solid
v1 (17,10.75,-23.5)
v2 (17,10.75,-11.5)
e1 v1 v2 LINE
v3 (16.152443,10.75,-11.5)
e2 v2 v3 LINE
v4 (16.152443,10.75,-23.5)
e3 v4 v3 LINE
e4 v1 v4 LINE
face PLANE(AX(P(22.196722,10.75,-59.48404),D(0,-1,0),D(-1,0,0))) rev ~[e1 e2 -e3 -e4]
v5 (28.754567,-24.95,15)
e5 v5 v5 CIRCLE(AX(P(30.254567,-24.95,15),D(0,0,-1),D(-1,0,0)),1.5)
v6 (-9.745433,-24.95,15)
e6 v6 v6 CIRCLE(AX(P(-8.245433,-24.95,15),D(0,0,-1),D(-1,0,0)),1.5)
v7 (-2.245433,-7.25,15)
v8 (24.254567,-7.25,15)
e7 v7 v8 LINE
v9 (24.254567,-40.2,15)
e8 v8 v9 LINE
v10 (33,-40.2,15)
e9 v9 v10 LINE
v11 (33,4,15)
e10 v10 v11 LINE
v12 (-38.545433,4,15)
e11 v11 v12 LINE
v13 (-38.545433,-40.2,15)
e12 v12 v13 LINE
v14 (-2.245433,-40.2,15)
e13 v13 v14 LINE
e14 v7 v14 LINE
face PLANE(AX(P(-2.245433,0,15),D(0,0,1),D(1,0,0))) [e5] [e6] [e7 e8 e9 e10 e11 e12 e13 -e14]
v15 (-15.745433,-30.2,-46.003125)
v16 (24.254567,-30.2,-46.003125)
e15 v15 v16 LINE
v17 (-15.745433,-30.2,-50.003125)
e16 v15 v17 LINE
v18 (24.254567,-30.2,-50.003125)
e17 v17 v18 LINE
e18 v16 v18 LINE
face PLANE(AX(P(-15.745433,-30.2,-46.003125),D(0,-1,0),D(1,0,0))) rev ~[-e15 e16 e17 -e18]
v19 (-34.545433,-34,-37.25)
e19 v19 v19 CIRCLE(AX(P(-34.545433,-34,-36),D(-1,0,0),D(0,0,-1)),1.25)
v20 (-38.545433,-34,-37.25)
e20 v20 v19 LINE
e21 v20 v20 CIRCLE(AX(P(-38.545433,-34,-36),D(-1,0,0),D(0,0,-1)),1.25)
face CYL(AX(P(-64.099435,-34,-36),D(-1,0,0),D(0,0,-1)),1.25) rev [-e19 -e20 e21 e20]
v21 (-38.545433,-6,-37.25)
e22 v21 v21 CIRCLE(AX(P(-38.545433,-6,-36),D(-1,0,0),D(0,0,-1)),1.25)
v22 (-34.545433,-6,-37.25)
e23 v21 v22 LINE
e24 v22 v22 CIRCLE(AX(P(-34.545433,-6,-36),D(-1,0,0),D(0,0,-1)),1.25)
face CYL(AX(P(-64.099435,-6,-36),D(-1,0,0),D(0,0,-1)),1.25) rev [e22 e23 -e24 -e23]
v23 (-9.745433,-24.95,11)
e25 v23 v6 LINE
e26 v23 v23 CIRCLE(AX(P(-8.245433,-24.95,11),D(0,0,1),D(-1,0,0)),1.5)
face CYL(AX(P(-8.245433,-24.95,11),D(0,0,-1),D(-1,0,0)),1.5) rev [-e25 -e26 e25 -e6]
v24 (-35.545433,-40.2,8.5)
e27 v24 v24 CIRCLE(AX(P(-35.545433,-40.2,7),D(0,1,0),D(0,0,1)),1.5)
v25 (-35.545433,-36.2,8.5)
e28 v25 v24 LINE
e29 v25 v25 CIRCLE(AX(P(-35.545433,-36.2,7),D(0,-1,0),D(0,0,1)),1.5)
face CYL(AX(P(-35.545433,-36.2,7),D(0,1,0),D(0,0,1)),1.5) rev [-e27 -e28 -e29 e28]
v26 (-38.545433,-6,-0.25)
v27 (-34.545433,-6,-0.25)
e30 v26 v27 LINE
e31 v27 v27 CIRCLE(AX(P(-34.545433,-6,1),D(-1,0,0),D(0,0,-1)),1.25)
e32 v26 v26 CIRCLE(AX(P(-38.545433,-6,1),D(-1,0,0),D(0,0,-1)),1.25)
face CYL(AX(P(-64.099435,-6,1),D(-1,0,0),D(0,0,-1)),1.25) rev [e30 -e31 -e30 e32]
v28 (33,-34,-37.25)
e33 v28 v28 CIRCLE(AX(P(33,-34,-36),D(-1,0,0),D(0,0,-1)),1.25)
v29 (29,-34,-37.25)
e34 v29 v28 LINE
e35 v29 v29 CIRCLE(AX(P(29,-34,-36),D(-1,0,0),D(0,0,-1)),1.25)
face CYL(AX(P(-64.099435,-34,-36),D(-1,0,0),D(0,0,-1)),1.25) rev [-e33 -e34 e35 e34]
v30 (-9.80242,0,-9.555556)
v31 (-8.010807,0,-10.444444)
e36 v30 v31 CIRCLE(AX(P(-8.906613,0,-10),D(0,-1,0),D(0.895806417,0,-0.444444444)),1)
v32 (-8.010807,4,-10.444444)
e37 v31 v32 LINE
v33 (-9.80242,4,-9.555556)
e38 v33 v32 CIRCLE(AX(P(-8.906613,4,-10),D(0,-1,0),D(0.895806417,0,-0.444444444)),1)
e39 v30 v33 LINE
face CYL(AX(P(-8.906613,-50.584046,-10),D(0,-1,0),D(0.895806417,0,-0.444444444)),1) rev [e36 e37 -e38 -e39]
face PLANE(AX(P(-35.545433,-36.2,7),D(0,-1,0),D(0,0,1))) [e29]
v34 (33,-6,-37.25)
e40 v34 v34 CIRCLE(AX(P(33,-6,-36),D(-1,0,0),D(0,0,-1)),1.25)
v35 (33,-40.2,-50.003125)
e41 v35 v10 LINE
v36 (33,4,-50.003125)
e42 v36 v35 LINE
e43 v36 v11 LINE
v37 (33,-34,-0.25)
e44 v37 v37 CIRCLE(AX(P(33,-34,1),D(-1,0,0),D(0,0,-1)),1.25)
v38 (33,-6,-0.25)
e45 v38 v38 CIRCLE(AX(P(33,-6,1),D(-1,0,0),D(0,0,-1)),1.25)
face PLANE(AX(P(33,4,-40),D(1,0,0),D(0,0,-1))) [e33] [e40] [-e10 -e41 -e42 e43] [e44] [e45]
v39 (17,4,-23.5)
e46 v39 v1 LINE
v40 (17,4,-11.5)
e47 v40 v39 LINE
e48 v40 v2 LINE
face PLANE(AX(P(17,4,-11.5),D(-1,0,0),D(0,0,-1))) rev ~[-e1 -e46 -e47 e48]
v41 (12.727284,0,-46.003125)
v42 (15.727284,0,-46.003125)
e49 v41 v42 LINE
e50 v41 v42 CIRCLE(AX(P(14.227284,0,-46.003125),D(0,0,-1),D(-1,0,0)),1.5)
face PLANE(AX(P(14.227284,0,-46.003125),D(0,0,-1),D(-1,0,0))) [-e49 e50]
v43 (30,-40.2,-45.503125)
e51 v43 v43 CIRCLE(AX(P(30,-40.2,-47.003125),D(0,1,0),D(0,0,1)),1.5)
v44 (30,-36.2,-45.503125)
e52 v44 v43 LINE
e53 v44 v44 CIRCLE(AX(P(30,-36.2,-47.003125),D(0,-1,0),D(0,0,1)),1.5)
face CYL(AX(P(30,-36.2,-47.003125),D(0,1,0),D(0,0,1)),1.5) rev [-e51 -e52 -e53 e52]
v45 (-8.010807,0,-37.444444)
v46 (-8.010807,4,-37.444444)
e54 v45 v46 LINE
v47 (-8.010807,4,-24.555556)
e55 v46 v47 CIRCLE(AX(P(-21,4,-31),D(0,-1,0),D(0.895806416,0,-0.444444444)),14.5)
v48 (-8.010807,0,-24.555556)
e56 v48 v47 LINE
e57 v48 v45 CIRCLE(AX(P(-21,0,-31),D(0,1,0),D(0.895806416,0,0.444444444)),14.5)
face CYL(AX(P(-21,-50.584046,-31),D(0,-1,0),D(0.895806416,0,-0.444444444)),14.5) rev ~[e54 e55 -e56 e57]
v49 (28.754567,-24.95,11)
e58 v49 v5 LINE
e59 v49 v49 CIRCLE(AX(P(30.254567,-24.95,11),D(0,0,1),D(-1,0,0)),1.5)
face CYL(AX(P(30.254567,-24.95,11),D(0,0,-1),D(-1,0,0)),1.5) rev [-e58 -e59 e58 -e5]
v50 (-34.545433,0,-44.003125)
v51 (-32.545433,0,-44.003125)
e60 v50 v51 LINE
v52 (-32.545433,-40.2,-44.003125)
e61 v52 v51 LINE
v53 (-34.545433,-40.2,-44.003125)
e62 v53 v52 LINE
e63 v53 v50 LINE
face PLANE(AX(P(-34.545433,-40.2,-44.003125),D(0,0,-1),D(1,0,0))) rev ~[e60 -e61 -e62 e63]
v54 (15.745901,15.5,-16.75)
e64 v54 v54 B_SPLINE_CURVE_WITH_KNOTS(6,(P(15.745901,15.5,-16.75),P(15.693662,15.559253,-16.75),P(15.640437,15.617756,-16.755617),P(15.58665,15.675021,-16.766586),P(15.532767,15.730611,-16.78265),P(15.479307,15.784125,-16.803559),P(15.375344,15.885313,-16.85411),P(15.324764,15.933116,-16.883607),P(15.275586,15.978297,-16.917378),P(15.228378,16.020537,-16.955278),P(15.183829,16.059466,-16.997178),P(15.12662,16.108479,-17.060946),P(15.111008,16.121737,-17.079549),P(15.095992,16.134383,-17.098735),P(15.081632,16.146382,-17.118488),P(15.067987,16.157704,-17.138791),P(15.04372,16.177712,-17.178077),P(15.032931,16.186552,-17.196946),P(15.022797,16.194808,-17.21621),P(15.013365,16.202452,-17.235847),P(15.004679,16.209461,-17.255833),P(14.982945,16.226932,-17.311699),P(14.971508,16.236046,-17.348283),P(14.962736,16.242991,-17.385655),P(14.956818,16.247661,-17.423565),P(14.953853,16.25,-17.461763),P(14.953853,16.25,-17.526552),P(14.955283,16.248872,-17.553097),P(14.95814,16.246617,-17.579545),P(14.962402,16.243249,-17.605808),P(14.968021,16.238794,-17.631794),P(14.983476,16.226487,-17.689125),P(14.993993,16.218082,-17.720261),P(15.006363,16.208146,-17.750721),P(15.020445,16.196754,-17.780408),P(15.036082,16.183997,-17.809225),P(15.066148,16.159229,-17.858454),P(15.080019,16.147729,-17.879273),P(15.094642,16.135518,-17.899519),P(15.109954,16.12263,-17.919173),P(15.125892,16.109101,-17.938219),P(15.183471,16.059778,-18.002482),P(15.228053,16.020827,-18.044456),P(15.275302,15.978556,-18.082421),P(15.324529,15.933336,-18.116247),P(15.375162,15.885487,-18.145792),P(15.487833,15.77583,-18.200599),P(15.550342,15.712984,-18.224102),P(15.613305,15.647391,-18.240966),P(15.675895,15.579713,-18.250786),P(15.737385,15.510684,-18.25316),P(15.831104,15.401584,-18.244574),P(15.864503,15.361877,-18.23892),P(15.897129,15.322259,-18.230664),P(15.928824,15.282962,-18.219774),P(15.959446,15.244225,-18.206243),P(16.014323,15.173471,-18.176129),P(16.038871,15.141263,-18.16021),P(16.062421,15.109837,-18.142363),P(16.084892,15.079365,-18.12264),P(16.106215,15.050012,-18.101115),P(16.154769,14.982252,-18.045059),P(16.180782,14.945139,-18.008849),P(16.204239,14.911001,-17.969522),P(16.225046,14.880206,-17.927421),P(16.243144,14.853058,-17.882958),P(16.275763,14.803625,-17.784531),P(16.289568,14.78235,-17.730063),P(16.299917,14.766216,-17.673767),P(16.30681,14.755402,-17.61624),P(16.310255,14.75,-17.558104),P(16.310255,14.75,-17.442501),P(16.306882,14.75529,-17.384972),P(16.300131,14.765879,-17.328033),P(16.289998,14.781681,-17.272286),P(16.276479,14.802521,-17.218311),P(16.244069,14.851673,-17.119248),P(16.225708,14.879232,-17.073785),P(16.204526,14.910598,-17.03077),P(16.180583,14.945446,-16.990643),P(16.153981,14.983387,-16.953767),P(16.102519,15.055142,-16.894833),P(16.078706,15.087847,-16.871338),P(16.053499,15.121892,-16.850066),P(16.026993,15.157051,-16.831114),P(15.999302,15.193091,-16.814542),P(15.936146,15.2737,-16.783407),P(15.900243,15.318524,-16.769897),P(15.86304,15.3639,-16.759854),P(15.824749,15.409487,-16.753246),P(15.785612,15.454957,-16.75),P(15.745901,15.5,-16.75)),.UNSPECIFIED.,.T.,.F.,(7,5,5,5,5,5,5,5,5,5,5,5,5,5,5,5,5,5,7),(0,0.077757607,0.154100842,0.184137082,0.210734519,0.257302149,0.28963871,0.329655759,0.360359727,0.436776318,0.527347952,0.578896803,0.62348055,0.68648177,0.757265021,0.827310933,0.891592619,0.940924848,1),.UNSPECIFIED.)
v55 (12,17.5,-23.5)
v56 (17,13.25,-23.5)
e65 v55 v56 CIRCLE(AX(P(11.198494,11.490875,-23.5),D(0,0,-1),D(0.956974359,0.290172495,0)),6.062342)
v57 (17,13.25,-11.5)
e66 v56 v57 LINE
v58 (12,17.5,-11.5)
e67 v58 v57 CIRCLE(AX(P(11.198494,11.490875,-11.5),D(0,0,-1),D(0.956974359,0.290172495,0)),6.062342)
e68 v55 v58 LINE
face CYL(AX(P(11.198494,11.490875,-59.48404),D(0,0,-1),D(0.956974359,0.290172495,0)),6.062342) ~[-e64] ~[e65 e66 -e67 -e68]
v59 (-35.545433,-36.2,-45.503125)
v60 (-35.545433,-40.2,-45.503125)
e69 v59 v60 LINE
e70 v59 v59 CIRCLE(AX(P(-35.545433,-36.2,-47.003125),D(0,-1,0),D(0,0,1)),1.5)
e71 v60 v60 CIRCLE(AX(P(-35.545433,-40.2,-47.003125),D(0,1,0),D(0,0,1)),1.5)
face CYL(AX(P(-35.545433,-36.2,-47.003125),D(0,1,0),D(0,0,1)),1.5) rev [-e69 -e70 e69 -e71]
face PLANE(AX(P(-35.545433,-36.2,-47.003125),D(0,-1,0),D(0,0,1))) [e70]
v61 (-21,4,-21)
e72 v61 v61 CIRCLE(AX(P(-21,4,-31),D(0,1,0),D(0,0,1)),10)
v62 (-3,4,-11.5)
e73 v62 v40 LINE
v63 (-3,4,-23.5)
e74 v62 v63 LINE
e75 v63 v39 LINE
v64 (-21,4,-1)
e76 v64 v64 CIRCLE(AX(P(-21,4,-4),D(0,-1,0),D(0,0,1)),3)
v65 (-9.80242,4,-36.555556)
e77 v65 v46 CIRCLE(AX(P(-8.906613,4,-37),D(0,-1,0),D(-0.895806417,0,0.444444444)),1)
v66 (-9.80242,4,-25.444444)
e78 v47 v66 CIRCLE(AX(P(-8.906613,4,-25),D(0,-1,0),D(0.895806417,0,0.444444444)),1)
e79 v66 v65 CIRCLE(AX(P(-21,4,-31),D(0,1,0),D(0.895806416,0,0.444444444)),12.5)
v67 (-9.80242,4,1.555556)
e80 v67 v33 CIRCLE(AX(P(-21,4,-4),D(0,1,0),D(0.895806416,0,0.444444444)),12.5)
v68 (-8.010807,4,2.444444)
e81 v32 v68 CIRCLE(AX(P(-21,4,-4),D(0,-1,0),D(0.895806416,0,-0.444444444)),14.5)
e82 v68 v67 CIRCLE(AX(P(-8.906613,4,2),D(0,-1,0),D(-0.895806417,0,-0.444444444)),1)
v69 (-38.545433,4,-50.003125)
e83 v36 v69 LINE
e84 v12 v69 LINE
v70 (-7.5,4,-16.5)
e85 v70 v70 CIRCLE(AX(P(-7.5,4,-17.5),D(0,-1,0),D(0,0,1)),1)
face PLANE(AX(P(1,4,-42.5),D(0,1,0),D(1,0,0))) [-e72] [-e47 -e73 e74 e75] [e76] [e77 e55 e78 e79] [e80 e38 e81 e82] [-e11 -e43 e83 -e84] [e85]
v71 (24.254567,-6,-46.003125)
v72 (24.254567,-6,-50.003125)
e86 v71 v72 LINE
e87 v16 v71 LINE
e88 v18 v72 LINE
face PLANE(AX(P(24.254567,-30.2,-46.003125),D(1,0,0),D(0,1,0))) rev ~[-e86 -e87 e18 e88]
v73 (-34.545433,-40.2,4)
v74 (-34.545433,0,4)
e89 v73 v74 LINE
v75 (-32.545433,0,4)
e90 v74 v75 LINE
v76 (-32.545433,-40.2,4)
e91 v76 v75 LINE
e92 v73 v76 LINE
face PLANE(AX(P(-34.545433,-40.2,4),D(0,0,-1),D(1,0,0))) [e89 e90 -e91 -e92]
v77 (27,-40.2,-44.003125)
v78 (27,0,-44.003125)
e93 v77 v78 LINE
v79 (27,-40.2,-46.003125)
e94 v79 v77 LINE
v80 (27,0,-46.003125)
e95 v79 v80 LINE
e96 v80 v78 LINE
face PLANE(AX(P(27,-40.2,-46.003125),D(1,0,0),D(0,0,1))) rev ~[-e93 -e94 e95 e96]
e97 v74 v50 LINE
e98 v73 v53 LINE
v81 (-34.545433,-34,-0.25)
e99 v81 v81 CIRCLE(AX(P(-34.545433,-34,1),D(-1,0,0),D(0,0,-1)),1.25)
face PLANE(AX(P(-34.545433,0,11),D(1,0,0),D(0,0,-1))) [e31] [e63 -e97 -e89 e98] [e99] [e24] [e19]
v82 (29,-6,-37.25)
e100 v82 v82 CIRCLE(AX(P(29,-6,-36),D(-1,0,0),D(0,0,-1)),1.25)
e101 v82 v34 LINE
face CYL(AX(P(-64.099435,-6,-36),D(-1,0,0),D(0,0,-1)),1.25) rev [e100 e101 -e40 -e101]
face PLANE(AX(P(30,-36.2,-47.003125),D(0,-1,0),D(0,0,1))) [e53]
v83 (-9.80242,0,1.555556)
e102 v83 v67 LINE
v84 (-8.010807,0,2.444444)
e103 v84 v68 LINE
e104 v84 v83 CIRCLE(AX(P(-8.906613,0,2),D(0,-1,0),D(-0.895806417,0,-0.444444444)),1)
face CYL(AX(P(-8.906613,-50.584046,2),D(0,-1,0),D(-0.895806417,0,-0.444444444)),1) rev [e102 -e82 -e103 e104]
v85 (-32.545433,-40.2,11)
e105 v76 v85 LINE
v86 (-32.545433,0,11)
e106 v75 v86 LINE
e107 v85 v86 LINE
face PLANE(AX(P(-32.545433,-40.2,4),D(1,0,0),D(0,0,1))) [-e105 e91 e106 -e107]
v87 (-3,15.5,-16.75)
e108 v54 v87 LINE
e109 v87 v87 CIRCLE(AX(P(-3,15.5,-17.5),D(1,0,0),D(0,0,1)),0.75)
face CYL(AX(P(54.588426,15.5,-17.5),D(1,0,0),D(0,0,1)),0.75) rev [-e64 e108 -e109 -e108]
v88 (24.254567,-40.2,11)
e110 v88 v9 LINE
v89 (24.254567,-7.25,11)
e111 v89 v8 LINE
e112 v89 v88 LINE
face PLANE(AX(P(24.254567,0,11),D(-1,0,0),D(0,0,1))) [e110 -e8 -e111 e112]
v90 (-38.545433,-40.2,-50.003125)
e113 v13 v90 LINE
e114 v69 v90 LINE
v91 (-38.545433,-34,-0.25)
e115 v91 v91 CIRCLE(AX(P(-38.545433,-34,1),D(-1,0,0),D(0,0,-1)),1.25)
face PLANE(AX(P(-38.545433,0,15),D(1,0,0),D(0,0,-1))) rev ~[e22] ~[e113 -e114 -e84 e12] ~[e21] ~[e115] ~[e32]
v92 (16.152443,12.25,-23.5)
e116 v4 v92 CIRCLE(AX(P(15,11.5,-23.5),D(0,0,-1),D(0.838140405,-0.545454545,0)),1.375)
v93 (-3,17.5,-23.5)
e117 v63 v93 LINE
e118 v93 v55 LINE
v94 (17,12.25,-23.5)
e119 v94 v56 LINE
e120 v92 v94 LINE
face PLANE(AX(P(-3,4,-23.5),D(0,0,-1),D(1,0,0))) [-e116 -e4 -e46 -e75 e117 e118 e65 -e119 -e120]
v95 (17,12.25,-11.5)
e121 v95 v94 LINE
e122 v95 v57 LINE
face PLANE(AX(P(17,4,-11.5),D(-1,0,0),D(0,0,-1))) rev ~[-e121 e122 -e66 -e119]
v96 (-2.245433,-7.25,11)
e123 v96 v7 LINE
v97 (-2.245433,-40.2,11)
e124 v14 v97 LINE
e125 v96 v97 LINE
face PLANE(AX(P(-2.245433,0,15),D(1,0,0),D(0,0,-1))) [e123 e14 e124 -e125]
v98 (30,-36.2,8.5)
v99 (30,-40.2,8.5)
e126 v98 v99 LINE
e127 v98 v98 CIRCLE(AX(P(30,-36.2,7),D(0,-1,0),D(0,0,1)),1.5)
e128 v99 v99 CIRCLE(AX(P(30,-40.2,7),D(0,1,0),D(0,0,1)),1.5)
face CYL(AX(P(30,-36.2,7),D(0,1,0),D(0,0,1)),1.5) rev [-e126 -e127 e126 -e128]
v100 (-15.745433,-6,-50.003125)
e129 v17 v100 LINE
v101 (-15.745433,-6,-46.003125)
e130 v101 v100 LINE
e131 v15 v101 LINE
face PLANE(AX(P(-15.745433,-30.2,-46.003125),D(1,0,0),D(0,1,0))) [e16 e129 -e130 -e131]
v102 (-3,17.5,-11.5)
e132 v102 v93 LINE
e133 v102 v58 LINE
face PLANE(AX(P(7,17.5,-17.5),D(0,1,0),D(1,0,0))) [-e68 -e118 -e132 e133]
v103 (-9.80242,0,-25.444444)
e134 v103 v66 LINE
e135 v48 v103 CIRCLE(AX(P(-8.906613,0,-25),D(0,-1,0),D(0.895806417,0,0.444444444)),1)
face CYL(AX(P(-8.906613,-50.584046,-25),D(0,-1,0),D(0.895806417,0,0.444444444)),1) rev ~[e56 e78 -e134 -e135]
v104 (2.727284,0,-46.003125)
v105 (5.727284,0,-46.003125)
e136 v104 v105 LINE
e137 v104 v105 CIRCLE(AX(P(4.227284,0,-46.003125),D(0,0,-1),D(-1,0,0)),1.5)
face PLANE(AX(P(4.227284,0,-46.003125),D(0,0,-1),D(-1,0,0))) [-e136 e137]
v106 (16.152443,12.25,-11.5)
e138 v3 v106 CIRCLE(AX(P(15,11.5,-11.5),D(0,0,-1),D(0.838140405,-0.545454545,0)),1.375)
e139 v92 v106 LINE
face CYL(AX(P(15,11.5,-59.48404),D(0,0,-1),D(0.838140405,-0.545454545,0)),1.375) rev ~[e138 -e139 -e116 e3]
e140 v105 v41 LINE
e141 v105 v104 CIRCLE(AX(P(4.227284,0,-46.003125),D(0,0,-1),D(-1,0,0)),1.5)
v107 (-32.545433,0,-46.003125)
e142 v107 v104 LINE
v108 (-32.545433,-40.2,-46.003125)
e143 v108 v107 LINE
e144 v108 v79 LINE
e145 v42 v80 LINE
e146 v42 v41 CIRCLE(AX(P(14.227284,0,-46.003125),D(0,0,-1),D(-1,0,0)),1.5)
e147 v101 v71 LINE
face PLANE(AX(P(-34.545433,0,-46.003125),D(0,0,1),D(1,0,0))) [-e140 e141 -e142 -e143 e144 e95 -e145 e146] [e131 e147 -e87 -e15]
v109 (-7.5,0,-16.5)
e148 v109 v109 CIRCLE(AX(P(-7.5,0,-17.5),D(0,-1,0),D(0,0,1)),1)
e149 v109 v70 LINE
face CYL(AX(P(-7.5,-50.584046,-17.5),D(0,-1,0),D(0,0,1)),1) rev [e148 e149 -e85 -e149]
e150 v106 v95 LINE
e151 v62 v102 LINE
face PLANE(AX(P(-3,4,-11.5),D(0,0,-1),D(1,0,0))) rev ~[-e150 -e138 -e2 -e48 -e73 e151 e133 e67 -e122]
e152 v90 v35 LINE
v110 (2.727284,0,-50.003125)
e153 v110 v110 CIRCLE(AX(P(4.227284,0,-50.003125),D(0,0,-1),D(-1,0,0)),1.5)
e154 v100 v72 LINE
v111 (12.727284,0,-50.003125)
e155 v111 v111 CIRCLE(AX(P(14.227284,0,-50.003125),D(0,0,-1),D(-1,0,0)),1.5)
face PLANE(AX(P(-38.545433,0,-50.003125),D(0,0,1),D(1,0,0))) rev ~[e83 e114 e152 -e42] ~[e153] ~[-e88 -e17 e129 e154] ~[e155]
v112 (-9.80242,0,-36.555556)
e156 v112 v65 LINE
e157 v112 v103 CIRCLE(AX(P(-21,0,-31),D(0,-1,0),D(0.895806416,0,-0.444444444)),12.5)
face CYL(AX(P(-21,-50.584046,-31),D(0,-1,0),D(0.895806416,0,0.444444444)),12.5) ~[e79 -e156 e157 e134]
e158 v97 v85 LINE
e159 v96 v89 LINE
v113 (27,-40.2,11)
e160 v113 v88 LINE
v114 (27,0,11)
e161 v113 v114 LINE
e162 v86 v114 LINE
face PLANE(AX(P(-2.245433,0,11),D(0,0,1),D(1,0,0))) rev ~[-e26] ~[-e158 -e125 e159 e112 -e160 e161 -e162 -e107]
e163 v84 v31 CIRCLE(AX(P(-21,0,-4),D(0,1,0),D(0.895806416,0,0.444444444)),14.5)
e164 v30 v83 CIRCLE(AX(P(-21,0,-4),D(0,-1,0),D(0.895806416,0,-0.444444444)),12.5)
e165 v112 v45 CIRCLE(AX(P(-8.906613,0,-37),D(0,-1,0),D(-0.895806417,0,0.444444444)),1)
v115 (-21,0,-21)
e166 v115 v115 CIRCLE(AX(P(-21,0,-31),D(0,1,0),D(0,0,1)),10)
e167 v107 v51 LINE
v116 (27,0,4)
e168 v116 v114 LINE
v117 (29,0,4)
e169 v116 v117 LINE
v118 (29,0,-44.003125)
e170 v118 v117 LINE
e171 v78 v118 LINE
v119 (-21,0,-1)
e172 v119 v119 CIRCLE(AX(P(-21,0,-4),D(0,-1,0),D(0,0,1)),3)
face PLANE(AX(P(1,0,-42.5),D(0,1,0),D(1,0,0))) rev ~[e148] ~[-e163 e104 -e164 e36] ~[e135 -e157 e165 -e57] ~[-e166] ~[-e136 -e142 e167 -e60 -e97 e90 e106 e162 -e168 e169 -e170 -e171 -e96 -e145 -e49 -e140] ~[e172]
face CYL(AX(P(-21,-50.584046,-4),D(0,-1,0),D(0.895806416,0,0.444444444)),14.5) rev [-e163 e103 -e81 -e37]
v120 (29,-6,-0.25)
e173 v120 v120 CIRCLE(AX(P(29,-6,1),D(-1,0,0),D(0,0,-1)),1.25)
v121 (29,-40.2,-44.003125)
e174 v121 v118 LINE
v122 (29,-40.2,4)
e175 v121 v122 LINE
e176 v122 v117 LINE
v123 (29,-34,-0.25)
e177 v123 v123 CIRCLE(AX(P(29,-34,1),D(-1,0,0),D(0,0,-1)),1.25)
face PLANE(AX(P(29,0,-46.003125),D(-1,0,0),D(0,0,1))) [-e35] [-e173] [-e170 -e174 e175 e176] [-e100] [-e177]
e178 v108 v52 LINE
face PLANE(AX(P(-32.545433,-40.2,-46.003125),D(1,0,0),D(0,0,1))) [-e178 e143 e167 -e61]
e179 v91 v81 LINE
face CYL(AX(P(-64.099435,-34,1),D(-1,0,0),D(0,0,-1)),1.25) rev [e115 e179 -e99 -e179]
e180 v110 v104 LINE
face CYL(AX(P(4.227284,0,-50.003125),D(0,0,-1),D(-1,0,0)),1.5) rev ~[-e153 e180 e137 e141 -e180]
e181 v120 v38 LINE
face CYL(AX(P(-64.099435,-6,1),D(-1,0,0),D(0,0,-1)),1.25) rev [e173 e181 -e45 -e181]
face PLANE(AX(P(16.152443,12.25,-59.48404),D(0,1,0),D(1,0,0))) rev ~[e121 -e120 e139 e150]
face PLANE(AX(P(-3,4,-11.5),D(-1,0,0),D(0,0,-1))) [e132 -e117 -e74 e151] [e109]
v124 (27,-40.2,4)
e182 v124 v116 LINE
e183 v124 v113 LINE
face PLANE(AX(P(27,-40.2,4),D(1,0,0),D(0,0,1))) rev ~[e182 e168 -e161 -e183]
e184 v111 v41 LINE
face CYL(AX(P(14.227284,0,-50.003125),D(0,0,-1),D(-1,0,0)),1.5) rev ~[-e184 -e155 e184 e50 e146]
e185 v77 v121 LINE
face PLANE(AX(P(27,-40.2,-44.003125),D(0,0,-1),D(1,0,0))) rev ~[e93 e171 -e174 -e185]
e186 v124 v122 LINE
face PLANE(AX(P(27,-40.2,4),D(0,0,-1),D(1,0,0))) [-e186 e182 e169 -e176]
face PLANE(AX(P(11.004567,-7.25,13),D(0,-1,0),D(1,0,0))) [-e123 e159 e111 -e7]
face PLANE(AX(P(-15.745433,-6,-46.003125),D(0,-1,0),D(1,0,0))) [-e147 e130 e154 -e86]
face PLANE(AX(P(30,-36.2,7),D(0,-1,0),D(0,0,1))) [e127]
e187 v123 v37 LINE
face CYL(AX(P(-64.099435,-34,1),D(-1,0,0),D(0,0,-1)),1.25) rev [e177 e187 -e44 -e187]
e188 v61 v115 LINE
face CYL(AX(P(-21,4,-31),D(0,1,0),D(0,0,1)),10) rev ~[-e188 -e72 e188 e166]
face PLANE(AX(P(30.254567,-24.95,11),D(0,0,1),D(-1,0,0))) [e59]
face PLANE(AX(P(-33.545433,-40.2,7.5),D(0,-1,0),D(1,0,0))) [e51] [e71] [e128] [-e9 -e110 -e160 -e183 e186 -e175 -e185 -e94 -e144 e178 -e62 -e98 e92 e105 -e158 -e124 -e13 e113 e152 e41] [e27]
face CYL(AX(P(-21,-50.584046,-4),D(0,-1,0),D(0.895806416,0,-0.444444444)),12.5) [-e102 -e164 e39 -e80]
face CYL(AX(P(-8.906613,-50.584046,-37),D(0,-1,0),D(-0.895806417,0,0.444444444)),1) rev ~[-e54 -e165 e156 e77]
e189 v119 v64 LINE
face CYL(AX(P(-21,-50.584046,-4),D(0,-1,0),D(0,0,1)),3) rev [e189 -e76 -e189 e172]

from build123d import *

# Parameters (mm, degrees)
SKETCH1_W                = 64
SKETCH1_H                = 50
BOSS_EXTRUDE1_DEPTH      = 4
SKETCH3_R                = 6.5
CUT_EXTRUDE2_DEPTH       = 4
SKETCH4_W                = 20
SKETCH4_H                = 12
BOSS_EXTRUDE2_DEPTH      = 13.5
CUT_EXTRUDE3_DEPTH       = 47.984039843
CUT_EXTRUDE3_DEPTH_BACK  = 47.984039843
CUT_EXTRUDE4_DEPTH       = 47.984039843
CUT_EXTRUDE4_DEPTH_BACK  = 47.984039843
CUT_EXTRUDE5_DEPTH       = 57.588426379
CUT_EXTRUDE5_DEPTH_BACK  = 57.588426379
SKETCH7_R                = 0.75
CUT_EXTRUDE6_DEPTH       = 54.584046158
CUT_EXTRUDE6_DEPTH_BACK  = 54.584046158
SKETCH8_R                = 1
CUT_EXTRUDE7_DEPTH       = 54.584046158
CUT_EXTRUDE7_DEPTH_BACK  = 54.584046158
SKETCH10_R               = 3
CUT_EXTRUDE8_DEPTH       = 54.584046158
CUT_EXTRUDE8_DEPTH_BACK  = 54.584046158
SKETCH12_W               = 64
SKETCH12_H               = 5
BOSS_EXTRUDE3_DEPTH      = 4
BOSS_EXTRUDE4_DEPTH      = 4
BOSS_EXTRUDE5_DEPTH      = 40.2
SKETCH17_W               = 26.5
SKETCH17_H               = 4
BOSS_EXTRUDE7_DEPTH      = 7.25
SKETCH19_W               = 2
SKETCH19_H               = 7
SKETCH19_H_2             = 2
BOSS_EXTRUDE8_DEPTH      = 40.2
CUT_EXTRUDE9_DEPTH       = 86.529836515
CUT_EXTRUDE9_DEPTH_BACK  = 4
SKETCH18_R               = 1.5
CUT_EXTRUDE10_DEPTH      = 86.599046003
CUT_EXTRUDE10_DEPTH_BACK = 4
SKETCH20_R               = 1.5
SKETCH21_R               = 1.5
CUT_EXTRUDE11_DEPTH      = 4
CUT_EXTRUDE12_DEPTH      = 97.099435462
CUT_EXTRUDE12_DEPTH_BACK = 97.099435462
SKETCH22_R               = 1.25
SKETCH15_W               = 40
SKETCH15_H               = 24.2
CUT_EXTRUDE13_DEPTH      = 10
SKETCH23_R               = 10
CUT_EXTRUDE14_DEPTH      = 78.069468162


with BuildPart() as part:
    # Sketch1 → Boss-Extrude1 (new body)
    with BuildSketch(Plane(origin=(0, 0, 0), x_dir=(1, 0, 0), z_dir=(0, 1, 0))):
        with Locations((1, 15)):
            Rectangle(SKETCH1_W, SKETCH1_H)
    extrude(amount=BOSS_EXTRUDE1_DEPTH)

    # Sketch3 → Cut-Extrude2 (cut)
    with BuildSketch(Plane(origin=(0, 4, 0), x_dir=(1, 0, 0), z_dir=(0, 1, 0))):
        with Locations(Location((-21, 31, 0), (0, 0, 270))):
            Circle(SKETCH3_R)
    extrude(amount=-CUT_EXTRUDE2_DEPTH, mode=Mode.SUBTRACT)

    # Sketch4 → Boss-Extrude2 (add)
    with BuildSketch(Plane(origin=(0, 4, 0), x_dir=(1, 0, 0), z_dir=(0, 1, 0))):
        with Locations((7, 17.5)):
            Rectangle(SKETCH4_W, SKETCH4_H)
    extrude(amount=BOSS_EXTRUDE2_DEPTH)

    # Sketch5 → Cut-Extrude3 (cut, two sides: drawn at the far end of the back side and taken through both)
    with BuildSketch(Plane.XY.offset(-11.5).offset(-CUT_EXTRUDE3_DEPTH_BACK)):
        with BuildLine():
            Line((17, 10.75), (16.152443057, 10.75))
            ThreePointArc((16.152443057, 10.75), (13.625, 11.5), (16.152443057, 12.25))
            Line((16.152443057, 12.25), (19, 12.25))
            Line((19, 12.25), (22.19672231, 12.25))
            Line((22.19672231, 12.25), (22.19672231, 10.75))
            Line((22.19672231, 10.75), (17, 10.75))
        make_face()
    extrude(amount=CUT_EXTRUDE3_DEPTH + CUT_EXTRUDE3_DEPTH_BACK, mode=Mode.SUBTRACT)

    # Sketch6 → Cut-Extrude4 (cut, two sides: drawn at the far end of the back side and taken through both)
    with BuildSketch(Plane.XY.offset(-11.5).offset(-CUT_EXTRUDE4_DEPTH_BACK)):
        with BuildLine():
            Line((12, 17.5), (17, 17.5))
            Line((17, 17.5), (17, 13.25))
            ThreePointArc((17, 13.25), (15.124760231, 16.110012037), (12, 17.5))
        make_face()
    extrude(amount=CUT_EXTRUDE4_DEPTH + CUT_EXTRUDE4_DEPTH_BACK, mode=Mode.SUBTRACT)

    # Sketch7 → Cut-Extrude5 (cut, two sides: drawn at the far end of the back side and taken through both)
    with BuildSketch(Plane.ZY.offset(3).offset(-CUT_EXTRUDE5_DEPTH_BACK)):
        with Locations((-17.5, 15.5)):
            Circle(SKETCH7_R)
    extrude(amount=CUT_EXTRUDE5_DEPTH + CUT_EXTRUDE5_DEPTH_BACK, mode=Mode.SUBTRACT)

    # Sketch8 → Cut-Extrude6 (cut, two sides: drawn at the far end of the back side and taken through both)
    with BuildSketch(Plane(origin=(0, 4, 0), x_dir=(1, 0, 0), z_dir=(0, 1, 0)).offset(-CUT_EXTRUDE6_DEPTH_BACK)):
        with Locations(Location((-7.5, 31, 0), (0, 0, 270))):
            Circle(SKETCH8_R)
        with Locations(Location((-7.5, 17.5, 0), (0, 0, 270))):
            Circle(SKETCH8_R)
        with Locations(Location((-7.5, 4, 0), (0, 0, 270))):
            Circle(SKETCH8_R)
    extrude(amount=CUT_EXTRUDE6_DEPTH + CUT_EXTRUDE6_DEPTH_BACK, mode=Mode.SUBTRACT)

    # Sketch10 → Cut-Extrude7 (cut, two sides: drawn at the far end of the back side and taken through both)
    with BuildSketch(Plane(origin=(0, 4, 0), x_dir=(1, 0, 0), z_dir=(0, 1, 0)).offset(-CUT_EXTRUDE7_DEPTH_BACK)):
        with Locations(Location((-21, 4, 0), (0, 0, 270))):
            Circle(SKETCH10_R)
    extrude(amount=CUT_EXTRUDE7_DEPTH + CUT_EXTRUDE7_DEPTH_BACK, mode=Mode.SUBTRACT)

    # Sketch11 → Cut-Extrude8 (cut, two sides: drawn at the far end of the back side and taken through both)
    with BuildSketch(Plane(origin=(0, 4, 0), x_dir=(1, 0, 0), z_dir=(0, 1, 0)).offset(-CUT_EXTRUDE8_DEPTH_BACK)):
        with BuildLine():
            ThreePointArc((-9.802419794, 25.444444444), (-8.5, 31), (-9.802419794, 36.555555556))
            ThreePointArc((-9.802419794, 36.555555556), (-9.351057822, 37.895806416), (-8.010806961, 37.444444444))
            ThreePointArc((-8.010806961, 37.444444444), (-6.5, 31), (-8.010806961, 24.555555556))
            ThreePointArc((-8.010806961, 24.555555556), (-9.351057822, 24.104193584), (-9.802419794, 25.444444444))
        make_face()
        with BuildLine():
            ThreePointArc((-9.802419794, 9.555555556), (-8.5, 4), (-9.802419794, -1.555555556))
            ThreePointArc((-9.802419794, -1.555555556), (-9.351057822, -2.895806416), (-8.010806961, -2.444444444))
            ThreePointArc((-8.010806961, -2.444444444), (-6.5, 4), (-8.010806961, 10.444444444))
            ThreePointArc((-8.010806961, 10.444444444), (-9.351057822, 10.895806416), (-9.802419794, 9.555555556))
        make_face()
    extrude(amount=CUT_EXTRUDE8_DEPTH + CUT_EXTRUDE8_DEPTH_BACK, mode=Mode.SUBTRACT)

    # Sketch12 → Boss-Extrude3 (add)
    with BuildSketch(Plane(origin=(0, 4, 0), x_dir=(1, 0, 0), z_dir=(0, 1, 0))):
        with Locations((1, 42.5)):
            Rectangle(SKETCH12_W, SKETCH12_H)
        with Locations((1, -12.5)):
            Rectangle(SKETCH12_W, SKETCH12_H)
    extrude(amount=-BOSS_EXTRUDE3_DEPTH)

    # Sketch13 → Boss-Extrude4 (add)
    with BuildSketch(Plane(origin=(0, 0, 0), x_dir=(1, 0, 0), z_dir=(0, 1, 0))):
        Polygon((33, 38.853125133), (-31, 38.853125133), (-31, -15), (-38.545432929, -15), (-38.545432929, 50.003125133), (-31, 50.003125133), (33, 50.003125133), align=None)
    extrude(amount=BOSS_EXTRUDE4_DEPTH)

    # Sketch14 → Boss-Extrude5 (add)
    with BuildSketch(Plane.XZ):
        Polygon((-38.545432929, 15), (-2.245432929, 15), (-2.245432929, 11), (-34.545432929, 11), (-34.545432929, -46.003125133), (29, -46.003125133), (29, 11), (24.254567071, 11), (24.254567071, 15), (33, 15), (33, 4.2), (33, -50.003125133), (29, -50.003125133), (-34.545432929, -50.003125133), (-38.545432929, -50.003125133), (-38.545432929, 4.2), align=None)
    extrude(amount=BOSS_EXTRUDE5_DEPTH)

    # Sketch17 → Boss-Extrude7 (add)
    with BuildSketch(Plane.XZ):
        with Locations((11.004567071, 13)):
            Rectangle(SKETCH17_W, SKETCH17_H)
    extrude(amount=BOSS_EXTRUDE7_DEPTH)

    # Sketch19 → Boss-Extrude8 (add)
    with BuildSketch(Plane.XZ.offset(40.2)):
        with Locations((-33.545432929, 7.5)):
            Rectangle(SKETCH19_W, SKETCH19_H)
        with Locations((-33.545432929, -45.003125133)):
            Rectangle(SKETCH19_W, SKETCH19_H_2)
        with Locations((28, -45.003125133)):
            Rectangle(SKETCH19_W, SKETCH19_H_2)
        with Locations((28, 7.5)):
            Rectangle(SKETCH19_W, SKETCH19_H)
    extrude(amount=-BOSS_EXTRUDE8_DEPTH)

    # Sketch18 → Cut-Extrude9 (cut, two sides: drawn at the far end of the back side and taken through both)
    with BuildSketch(Plane.XZ.offset(40.2).offset(-CUT_EXTRUDE9_DEPTH_BACK)):
        with Locations(Location((-35.545432929, 7, 0), (0, 0, 90))):
            Circle(SKETCH18_R)
        with Locations(Location((30, 7, 0), (0, 0, 90))):
            Circle(SKETCH18_R)
        with Locations(Location((30, -47.003125133, 0), (0, 0, 90))):
            Circle(SKETCH18_R)
        with Locations(Location((-35.545432929, -47.003125133, 0), (0, 0, 90))):
            Circle(SKETCH18_R)
    extrude(amount=CUT_EXTRUDE9_DEPTH + CUT_EXTRUDE9_DEPTH_BACK, mode=Mode.SUBTRACT)

    # Sketch20 → Cut-Extrude10 (cut, two sides: drawn at the far end of the back side and taken through both)
    with BuildSketch(Plane.XY.offset(15).offset(-CUT_EXTRUDE10_DEPTH_BACK)):
        with Locations(Location((-8.245432929, -24.95, 0), (0, 0, 180))):
            Circle(SKETCH20_R)
        with Locations(Location((30.254567071, -24.95, 0), (0, 0, 180))):
            Circle(SKETCH20_R)
    extrude(amount=CUT_EXTRUDE10_DEPTH + CUT_EXTRUDE10_DEPTH_BACK, mode=Mode.SUBTRACT)

    # Sketch21 → Cut-Extrude11 (cut)
    with BuildSketch(Plane(origin=(0, 0, -50.003125133), x_dir=(-1, 0, 0), z_dir=(0, 0, -1))):
        with Locations((-4.227283535, 0)):
            Circle(SKETCH21_R)
        with Locations((-14.227283535, 0)):
            Circle(SKETCH21_R)
    extrude(amount=-CUT_EXTRUDE11_DEPTH, mode=Mode.SUBTRACT)

    # Sketch22 → Cut-Extrude12 (cut, two sides: drawn at the far end of the back side and taken through both)
    with BuildSketch(Plane(origin=(33, 0, 0), x_dir=(0, 0, -1), z_dir=(1, 0, 0)).offset(-CUT_EXTRUDE12_DEPTH_BACK)):
        with Locations((-1, -6)):
            Circle(SKETCH22_R)
        with Locations((36, -34)):
            Circle(SKETCH22_R)
        with Locations((-1, -34)):
            Circle(SKETCH22_R)
        with Locations((36, -6)):
            Circle(SKETCH22_R)
    extrude(amount=CUT_EXTRUDE12_DEPTH + CUT_EXTRUDE12_DEPTH_BACK, mode=Mode.SUBTRACT)

    # Sketch15 → Cut-Extrude13 (cut)
    with BuildSketch(Plane.XY.offset(-46.003125133)):
        with Locations((4.254567071, -18.1)):
            Rectangle(SKETCH15_W, SKETCH15_H)
    extrude(amount=-CUT_EXTRUDE13_DEPTH, mode=Mode.SUBTRACT)

    # Sketch23 → Cut-Extrude14 (cut, through all)
    with BuildSketch(Plane(origin=(0, 4, 0), x_dir=(1, 0, 0), z_dir=(0, 1, 0))):
        with Locations(Location((-21, 31, 0), (0, 0, 270))):
            Circle(SKETCH23_R)
    extrude(amount=-CUT_EXTRUDE14_DEPTH, mode=Mode.SUBTRACT)


solid = part.part
